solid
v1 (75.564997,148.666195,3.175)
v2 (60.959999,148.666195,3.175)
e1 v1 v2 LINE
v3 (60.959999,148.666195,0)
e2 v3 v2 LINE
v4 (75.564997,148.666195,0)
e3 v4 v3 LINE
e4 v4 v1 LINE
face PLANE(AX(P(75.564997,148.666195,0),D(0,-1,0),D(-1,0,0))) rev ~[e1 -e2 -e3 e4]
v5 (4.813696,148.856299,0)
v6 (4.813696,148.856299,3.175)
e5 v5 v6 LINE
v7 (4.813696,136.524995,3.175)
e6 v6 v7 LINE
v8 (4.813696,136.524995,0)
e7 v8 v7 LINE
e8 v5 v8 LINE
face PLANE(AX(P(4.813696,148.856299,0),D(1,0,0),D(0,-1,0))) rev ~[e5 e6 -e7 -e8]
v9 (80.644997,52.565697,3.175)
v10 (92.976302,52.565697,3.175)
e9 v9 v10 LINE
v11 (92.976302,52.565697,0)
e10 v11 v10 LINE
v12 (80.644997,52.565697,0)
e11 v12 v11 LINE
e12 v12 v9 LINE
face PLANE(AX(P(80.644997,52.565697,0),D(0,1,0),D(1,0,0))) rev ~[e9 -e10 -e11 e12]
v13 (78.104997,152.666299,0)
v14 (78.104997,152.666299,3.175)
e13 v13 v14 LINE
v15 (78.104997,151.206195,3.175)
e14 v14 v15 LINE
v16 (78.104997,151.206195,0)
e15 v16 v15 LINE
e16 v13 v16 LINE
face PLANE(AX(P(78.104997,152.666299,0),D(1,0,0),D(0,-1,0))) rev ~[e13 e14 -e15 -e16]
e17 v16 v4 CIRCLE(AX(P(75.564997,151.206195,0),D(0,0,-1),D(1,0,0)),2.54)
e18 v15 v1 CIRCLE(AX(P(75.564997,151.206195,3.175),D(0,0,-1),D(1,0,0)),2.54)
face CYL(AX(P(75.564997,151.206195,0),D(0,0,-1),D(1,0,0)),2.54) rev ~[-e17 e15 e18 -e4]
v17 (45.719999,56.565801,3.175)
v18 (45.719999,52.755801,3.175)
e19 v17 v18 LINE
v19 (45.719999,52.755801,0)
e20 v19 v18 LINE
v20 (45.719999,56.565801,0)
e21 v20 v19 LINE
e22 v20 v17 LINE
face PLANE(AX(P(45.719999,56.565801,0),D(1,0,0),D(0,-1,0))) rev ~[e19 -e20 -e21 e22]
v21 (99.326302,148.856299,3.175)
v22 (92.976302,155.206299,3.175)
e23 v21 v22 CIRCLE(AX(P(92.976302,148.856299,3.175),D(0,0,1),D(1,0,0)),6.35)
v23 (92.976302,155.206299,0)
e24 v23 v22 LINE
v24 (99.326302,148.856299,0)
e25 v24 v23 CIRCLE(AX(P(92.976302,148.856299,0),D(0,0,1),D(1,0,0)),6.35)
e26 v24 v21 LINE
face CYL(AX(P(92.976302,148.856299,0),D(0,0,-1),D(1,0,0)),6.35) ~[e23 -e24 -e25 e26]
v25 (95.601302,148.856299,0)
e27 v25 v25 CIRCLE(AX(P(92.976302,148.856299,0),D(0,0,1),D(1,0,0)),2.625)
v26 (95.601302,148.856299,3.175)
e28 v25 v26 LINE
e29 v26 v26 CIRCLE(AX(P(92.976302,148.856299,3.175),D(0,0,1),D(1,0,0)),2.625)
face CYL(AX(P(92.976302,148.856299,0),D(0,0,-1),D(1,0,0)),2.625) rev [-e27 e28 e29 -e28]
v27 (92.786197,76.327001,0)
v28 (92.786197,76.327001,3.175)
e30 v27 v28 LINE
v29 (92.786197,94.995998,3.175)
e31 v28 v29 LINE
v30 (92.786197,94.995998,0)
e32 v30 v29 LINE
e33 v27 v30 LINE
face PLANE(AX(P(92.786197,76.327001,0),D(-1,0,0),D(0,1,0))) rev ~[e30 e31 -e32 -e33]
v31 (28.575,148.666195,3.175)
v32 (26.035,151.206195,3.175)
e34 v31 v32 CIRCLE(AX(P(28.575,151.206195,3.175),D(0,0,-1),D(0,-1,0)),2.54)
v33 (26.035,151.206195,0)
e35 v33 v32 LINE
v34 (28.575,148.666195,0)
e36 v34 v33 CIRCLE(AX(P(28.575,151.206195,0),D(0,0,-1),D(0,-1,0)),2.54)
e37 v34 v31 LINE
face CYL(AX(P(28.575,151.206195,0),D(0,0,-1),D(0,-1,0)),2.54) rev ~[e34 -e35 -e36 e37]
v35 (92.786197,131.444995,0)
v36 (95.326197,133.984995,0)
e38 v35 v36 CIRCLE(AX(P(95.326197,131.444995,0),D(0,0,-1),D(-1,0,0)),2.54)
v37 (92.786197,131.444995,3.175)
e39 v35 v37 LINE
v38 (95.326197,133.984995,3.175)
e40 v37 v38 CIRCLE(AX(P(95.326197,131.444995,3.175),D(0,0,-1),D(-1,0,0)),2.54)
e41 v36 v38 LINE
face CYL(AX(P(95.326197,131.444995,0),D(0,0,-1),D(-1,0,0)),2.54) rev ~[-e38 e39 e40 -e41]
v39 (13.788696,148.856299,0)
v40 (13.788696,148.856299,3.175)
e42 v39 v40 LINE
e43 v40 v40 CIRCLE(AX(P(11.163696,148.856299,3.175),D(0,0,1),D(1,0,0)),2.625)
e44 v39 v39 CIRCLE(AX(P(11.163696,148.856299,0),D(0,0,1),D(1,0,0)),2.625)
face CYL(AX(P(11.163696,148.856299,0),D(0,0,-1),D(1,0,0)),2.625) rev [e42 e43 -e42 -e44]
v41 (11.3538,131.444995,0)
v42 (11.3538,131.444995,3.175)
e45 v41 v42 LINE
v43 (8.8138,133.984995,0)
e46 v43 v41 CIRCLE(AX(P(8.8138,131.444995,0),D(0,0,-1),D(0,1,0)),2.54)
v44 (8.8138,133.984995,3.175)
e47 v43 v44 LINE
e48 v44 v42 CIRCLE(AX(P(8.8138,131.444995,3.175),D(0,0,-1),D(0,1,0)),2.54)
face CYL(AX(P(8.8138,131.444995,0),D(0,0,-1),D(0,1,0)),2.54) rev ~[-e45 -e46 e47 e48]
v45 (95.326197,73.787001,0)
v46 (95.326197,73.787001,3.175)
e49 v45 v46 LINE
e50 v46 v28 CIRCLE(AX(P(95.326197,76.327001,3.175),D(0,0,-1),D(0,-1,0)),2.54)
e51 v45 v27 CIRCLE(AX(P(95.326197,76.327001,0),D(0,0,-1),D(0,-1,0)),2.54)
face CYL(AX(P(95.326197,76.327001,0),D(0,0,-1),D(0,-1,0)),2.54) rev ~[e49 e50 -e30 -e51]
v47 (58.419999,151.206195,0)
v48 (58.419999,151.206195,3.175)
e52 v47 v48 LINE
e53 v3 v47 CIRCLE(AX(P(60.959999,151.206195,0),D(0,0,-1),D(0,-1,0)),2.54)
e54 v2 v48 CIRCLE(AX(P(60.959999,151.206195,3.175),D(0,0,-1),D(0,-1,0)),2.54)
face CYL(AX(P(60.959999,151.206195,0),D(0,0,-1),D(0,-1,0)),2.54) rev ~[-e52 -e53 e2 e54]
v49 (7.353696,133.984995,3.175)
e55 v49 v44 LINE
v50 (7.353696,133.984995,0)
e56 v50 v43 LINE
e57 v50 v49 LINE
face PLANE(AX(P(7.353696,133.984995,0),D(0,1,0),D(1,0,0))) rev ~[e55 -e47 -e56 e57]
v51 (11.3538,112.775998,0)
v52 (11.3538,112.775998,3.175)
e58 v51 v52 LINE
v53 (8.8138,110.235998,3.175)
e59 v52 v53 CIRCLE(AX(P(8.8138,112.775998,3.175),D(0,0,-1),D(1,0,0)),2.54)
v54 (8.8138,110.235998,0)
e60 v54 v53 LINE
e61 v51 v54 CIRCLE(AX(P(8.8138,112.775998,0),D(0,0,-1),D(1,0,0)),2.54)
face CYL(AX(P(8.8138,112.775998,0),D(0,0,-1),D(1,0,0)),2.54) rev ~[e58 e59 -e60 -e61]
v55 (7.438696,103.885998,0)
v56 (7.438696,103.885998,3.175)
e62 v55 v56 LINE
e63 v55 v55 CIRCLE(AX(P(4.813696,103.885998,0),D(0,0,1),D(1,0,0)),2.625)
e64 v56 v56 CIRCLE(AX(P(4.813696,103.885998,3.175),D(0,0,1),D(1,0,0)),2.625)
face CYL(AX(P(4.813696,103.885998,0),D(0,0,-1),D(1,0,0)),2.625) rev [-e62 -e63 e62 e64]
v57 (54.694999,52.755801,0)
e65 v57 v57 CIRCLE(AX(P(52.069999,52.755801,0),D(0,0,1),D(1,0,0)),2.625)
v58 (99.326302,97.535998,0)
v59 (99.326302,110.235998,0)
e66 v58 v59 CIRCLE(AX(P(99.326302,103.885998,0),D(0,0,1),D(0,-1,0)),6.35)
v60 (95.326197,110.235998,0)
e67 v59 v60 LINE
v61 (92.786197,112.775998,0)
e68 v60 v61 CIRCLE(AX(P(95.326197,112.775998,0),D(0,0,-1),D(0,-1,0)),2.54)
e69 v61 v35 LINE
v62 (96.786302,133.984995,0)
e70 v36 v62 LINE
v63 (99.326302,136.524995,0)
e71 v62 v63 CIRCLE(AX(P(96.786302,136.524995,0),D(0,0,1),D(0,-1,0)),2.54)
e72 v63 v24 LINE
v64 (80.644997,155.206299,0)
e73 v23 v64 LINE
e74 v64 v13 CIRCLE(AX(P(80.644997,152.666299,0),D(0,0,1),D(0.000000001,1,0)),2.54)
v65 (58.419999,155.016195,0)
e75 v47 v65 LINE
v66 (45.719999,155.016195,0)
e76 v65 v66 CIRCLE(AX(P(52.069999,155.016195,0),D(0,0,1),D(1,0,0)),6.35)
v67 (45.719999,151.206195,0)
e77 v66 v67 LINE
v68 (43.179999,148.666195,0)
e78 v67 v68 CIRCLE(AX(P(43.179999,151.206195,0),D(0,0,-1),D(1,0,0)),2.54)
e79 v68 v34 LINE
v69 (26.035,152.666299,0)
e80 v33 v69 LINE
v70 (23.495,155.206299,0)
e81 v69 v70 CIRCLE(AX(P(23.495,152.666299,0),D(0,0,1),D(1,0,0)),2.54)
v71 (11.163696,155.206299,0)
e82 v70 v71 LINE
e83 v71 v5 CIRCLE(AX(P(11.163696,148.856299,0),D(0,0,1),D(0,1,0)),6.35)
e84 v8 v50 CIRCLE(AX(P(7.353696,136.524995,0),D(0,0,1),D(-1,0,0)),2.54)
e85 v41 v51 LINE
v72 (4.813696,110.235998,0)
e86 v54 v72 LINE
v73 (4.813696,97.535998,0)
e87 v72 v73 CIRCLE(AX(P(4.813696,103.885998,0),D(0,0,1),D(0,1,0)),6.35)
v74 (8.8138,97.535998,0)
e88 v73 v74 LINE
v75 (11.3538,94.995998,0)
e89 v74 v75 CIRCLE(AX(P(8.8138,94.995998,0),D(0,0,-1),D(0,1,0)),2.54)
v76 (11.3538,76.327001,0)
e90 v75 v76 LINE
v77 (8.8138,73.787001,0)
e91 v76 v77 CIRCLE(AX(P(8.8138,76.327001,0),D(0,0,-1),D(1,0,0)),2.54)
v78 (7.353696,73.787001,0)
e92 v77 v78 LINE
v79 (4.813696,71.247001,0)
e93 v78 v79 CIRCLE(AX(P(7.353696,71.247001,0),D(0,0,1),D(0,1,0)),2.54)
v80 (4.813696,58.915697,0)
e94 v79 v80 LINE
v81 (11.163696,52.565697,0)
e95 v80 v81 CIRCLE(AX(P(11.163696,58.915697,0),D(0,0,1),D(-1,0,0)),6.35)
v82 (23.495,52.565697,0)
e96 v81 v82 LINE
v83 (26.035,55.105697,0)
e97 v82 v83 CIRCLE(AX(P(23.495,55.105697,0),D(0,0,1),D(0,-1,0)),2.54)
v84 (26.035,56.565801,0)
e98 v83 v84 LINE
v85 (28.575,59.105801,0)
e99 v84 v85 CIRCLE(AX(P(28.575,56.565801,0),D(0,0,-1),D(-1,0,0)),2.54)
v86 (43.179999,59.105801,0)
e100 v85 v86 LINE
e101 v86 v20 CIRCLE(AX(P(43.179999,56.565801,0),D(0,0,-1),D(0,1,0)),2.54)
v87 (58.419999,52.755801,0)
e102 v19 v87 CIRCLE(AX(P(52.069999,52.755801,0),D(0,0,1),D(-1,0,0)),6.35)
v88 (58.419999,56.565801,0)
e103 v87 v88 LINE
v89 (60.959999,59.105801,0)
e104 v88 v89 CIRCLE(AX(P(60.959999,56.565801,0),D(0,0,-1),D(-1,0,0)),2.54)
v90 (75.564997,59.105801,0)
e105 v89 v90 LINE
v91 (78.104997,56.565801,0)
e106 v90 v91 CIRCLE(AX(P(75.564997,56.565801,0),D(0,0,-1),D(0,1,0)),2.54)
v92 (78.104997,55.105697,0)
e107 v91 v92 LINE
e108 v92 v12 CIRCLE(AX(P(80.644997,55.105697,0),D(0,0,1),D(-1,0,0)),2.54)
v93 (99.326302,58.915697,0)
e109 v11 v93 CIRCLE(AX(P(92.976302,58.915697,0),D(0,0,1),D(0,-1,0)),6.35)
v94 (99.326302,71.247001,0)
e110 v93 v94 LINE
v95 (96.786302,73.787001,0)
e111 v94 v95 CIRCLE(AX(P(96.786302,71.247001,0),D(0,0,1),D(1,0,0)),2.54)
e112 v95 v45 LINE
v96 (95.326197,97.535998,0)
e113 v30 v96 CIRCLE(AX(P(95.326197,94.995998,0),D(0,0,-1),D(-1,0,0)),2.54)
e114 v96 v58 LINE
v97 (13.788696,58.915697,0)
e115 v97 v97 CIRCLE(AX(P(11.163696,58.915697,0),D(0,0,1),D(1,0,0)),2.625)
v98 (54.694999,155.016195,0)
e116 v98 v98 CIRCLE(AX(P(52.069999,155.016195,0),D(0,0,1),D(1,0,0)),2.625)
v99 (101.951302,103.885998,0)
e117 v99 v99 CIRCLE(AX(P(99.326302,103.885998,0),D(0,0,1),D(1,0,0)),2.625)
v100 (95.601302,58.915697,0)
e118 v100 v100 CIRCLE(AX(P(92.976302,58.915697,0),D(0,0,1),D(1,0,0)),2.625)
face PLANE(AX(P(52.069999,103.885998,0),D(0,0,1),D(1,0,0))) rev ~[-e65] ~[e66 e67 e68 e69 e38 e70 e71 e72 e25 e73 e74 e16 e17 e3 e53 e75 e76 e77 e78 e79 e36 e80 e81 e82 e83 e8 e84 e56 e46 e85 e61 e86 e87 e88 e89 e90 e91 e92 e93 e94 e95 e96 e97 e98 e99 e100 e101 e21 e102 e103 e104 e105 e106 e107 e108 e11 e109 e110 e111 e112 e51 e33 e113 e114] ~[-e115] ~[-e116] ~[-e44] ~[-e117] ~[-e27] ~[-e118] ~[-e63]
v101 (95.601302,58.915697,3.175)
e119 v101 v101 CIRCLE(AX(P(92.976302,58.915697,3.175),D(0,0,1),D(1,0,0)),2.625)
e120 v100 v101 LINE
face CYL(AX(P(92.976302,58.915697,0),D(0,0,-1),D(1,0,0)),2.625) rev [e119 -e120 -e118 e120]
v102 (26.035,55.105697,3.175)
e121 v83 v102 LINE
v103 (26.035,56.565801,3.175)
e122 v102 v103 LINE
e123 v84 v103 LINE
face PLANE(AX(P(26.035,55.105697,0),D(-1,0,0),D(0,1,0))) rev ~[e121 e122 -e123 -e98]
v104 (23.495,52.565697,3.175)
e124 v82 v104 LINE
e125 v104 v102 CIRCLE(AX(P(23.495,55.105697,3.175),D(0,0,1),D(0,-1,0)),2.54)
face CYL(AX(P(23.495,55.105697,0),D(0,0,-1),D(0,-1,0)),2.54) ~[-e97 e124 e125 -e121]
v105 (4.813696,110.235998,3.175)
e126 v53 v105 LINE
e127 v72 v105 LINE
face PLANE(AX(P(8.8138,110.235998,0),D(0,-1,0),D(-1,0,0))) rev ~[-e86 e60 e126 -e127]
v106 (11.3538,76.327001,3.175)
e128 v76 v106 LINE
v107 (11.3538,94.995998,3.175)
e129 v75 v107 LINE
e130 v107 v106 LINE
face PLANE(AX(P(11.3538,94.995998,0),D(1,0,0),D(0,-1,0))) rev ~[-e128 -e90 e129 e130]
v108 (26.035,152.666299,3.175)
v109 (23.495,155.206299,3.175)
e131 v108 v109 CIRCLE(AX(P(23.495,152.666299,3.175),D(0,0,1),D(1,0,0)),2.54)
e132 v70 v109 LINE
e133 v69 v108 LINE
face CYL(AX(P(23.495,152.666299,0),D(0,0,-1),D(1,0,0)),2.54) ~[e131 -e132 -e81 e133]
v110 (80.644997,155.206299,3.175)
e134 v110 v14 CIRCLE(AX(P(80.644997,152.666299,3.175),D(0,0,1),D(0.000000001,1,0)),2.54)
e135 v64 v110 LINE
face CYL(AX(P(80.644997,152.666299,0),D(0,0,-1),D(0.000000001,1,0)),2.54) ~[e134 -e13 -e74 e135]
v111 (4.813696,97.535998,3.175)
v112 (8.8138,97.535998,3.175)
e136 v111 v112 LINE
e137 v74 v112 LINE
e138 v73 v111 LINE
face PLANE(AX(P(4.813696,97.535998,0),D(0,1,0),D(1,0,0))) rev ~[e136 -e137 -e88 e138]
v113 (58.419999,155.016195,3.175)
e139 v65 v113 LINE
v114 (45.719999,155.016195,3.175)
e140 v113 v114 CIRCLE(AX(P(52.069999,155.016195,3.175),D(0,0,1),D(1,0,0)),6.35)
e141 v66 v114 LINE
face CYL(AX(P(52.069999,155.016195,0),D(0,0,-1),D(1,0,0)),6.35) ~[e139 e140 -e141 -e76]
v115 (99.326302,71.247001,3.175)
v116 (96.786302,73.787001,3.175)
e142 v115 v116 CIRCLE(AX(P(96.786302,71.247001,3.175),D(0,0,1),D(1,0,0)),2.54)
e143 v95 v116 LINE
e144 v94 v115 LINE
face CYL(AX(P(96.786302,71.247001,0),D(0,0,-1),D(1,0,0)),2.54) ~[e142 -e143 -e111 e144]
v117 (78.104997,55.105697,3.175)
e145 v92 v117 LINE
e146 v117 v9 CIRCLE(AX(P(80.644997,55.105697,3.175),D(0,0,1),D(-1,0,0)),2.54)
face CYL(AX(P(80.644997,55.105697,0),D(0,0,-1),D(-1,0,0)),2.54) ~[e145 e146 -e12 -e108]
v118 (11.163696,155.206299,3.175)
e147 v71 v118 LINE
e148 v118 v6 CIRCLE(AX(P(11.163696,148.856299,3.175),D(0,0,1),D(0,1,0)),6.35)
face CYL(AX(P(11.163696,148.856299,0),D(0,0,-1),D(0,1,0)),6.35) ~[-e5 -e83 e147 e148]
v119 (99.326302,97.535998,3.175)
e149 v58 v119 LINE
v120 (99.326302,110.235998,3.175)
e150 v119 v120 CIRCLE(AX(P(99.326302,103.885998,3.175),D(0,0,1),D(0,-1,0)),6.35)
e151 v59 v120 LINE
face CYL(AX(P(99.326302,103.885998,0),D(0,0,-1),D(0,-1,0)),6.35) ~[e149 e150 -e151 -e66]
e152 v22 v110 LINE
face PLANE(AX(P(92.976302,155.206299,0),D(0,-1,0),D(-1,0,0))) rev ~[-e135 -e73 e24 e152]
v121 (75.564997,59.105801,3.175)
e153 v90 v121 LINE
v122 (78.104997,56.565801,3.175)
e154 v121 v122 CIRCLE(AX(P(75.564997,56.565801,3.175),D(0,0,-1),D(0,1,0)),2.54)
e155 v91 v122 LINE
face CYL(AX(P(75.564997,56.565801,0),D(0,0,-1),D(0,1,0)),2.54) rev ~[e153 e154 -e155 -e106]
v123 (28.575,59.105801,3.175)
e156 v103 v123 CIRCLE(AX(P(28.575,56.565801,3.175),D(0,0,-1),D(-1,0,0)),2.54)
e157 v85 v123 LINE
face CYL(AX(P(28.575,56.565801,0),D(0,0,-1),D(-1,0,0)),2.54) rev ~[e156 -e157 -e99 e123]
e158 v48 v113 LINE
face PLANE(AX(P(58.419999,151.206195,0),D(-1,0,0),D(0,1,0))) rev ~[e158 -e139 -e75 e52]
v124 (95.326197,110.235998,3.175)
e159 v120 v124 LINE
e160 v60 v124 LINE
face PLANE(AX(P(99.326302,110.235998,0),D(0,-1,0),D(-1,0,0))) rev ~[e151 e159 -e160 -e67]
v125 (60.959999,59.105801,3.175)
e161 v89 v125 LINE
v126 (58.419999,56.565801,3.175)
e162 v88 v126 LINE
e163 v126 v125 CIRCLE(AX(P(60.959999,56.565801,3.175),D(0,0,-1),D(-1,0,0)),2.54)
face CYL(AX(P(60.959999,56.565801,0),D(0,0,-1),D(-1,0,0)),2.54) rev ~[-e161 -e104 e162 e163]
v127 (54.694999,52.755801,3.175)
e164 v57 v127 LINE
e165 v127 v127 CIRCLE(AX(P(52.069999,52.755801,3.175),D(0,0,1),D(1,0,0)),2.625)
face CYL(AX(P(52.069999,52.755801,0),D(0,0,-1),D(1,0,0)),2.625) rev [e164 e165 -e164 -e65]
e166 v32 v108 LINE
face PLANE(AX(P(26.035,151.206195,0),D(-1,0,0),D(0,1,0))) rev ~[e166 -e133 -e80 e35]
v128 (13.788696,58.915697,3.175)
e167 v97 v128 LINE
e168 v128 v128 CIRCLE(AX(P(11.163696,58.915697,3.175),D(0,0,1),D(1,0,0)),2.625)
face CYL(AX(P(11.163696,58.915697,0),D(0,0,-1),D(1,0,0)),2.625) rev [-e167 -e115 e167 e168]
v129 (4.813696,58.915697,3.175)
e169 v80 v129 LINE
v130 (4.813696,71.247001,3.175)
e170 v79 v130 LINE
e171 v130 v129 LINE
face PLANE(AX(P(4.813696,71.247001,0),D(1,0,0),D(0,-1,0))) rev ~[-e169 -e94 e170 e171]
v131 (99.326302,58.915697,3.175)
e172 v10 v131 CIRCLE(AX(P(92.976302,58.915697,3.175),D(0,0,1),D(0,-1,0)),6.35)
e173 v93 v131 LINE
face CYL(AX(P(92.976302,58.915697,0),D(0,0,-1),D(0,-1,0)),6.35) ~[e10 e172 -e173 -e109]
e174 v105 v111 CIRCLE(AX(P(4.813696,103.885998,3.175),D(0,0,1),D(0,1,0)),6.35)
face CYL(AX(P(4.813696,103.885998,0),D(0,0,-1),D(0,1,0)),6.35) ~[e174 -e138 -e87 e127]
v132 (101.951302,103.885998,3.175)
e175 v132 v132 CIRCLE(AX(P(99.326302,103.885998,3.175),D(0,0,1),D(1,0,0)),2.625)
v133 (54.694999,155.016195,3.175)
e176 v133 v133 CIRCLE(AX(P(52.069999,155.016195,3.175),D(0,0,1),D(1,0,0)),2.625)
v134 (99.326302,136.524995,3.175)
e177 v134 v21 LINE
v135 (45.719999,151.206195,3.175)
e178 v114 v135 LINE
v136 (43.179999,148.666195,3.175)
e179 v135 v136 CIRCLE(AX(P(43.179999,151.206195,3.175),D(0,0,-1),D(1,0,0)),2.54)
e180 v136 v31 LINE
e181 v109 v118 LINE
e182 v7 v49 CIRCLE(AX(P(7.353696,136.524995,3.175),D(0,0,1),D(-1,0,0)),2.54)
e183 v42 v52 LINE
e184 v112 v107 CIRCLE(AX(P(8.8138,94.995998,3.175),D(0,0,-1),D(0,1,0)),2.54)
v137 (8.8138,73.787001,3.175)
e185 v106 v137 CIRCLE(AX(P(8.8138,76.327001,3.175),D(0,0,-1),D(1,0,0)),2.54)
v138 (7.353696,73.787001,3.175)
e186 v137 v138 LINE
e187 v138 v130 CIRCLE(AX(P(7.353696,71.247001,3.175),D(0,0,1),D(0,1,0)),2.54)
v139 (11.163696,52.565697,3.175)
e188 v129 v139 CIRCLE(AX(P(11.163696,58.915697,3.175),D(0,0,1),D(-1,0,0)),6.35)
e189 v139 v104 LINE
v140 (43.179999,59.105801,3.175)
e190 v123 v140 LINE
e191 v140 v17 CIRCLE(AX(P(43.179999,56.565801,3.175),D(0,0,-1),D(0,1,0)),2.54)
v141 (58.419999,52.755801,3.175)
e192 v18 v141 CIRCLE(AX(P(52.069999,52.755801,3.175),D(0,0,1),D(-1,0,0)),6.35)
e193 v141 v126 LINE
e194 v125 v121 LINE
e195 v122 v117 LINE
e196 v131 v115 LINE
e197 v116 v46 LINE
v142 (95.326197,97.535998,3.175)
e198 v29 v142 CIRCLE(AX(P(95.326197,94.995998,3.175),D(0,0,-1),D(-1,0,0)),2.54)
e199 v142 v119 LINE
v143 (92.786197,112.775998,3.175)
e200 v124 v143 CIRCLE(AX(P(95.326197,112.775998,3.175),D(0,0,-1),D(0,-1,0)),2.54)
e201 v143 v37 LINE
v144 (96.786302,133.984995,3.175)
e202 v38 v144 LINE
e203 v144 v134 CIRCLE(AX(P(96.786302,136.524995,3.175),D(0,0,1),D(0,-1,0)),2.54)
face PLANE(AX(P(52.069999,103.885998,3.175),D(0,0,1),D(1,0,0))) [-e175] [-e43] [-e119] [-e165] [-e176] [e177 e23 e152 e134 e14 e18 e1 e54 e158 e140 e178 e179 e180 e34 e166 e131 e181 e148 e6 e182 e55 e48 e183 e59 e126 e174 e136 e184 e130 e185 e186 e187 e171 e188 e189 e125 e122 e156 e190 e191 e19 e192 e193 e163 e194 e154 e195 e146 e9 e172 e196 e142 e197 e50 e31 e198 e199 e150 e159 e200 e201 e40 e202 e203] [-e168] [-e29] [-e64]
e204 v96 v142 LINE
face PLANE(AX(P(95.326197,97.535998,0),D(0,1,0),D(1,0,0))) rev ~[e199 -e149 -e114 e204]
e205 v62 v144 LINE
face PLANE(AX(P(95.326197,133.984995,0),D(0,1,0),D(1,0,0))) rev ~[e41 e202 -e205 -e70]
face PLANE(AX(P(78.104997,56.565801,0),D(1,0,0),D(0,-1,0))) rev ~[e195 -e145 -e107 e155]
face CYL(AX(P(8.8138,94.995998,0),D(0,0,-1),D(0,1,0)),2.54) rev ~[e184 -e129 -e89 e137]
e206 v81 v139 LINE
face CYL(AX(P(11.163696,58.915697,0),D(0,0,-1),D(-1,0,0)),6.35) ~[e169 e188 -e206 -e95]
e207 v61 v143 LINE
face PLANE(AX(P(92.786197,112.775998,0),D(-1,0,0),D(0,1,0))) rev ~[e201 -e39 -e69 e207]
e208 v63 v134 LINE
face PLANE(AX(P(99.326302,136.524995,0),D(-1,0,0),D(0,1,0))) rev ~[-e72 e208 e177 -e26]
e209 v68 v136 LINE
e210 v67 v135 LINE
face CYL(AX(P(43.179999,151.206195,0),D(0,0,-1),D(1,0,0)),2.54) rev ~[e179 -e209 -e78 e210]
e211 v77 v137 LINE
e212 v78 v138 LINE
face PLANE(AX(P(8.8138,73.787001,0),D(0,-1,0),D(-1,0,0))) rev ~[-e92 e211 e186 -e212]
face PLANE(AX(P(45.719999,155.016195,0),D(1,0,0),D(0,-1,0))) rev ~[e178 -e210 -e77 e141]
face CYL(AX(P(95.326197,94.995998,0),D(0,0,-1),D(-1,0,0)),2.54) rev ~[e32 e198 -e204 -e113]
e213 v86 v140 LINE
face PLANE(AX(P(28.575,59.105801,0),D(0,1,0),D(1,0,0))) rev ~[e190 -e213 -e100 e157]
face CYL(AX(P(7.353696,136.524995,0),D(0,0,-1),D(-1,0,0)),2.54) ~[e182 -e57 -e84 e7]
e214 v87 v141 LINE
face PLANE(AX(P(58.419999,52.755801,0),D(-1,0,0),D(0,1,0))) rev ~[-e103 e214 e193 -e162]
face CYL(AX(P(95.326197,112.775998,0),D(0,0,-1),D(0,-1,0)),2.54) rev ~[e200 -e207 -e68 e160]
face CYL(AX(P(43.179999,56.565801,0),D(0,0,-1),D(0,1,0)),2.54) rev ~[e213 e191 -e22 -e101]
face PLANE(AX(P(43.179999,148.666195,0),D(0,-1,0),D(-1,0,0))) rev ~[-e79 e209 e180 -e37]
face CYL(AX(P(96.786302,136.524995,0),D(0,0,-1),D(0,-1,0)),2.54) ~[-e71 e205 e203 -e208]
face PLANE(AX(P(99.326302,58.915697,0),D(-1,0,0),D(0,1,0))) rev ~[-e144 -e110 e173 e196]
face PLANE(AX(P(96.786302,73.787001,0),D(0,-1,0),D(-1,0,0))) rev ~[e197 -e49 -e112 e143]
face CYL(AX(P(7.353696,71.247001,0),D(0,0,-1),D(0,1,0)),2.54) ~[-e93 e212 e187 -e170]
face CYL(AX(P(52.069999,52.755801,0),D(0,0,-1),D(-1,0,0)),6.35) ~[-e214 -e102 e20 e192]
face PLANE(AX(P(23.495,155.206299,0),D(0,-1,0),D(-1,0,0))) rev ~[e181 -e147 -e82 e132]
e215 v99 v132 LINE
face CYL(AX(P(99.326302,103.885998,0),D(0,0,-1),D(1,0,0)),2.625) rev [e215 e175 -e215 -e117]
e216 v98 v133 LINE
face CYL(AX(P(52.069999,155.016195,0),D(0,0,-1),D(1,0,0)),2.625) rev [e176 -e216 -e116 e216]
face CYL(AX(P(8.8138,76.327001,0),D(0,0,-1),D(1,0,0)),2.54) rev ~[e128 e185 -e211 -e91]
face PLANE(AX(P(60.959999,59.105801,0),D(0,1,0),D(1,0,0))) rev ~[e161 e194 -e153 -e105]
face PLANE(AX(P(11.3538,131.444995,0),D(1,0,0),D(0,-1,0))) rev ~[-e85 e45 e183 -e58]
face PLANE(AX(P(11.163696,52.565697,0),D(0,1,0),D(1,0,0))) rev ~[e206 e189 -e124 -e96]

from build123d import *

# Parameters (mm, degrees)
SKETCH1_R           = 2.625
BOSS_EXTRUDE1_DEPTH = 3.175


with BuildPart() as part:
    # Sketch1 → Boss-Extrude1 (new body)
    with BuildSketch(Plane.XY):
        with BuildLine():
            Line((4.813695848, 148.856298887), (4.813695848, 136.524994751))
            ThreePointArc((4.813695848, 136.524994751), (5.557644624, 134.728943527), (7.353695848, 133.984994751))
            Line((7.353695848, 133.984994751), (8.813799985, 133.984994751))
            ThreePointArc((8.813799985, 133.984994751), (10.609851209, 133.241045975), (11.353799985, 131.444994751))
            Line((11.353799985, 131.444994751), (11.353799985, 112.775997772))
            ThreePointArc((11.353799985, 112.775997772), (10.609851209, 110.979946548), (8.813799985, 110.235997772))
            Line((8.813799985, 110.235997772), (4.813695848, 110.235997772))
            ThreePointArc((4.813695848, 110.235997772), (-1.536304152, 103.885997772), (4.813695848, 97.535997772))
            Line((4.813695848, 97.535997772), (8.813799985, 97.535997772))
            ThreePointArc((8.813799985, 97.535997772), (10.609851209, 96.792048996), (11.353799985, 94.995997772))
            Line((11.353799985, 94.995997772), (11.353799985, 76.327000793))
            ThreePointArc((11.353799985, 76.327000793), (10.609851209, 74.530949569), (8.813799985, 73.787000793))
            Line((8.813799985, 73.787000793), (7.353695848, 73.787000793))
            ThreePointArc((7.353695848, 73.787000793), (5.557644624, 73.043052018), (4.813695848, 71.247000793))
            Line((4.813695848, 71.247000793), (4.813695848, 58.915696657))
            ThreePointArc((4.813695848, 58.915696657), (6.673567788, 54.425568596), (11.163695848, 52.565696657))
            Line((11.163695848, 52.565696657), (23.494999985, 52.565696657))
            ThreePointArc((23.494999985, 52.565696657), (25.291051209, 53.309645433), (26.034999985, 55.105696657))
            Line((26.034999985, 55.105696657), (26.034999985, 56.565800793))
            ThreePointArc((26.034999985, 56.565800793), (26.778948761, 58.361852018), (28.574999985, 59.105800793))
            Line((28.574999985, 59.105800793), (43.179998741, 59.105800793))
            ThreePointArc((43.179998741, 59.105800793), (44.976049965, 58.361852018), (45.719998741, 56.565800793))
            Line((45.719998741, 56.565800793), (45.719998741, 52.755800793))
            ThreePointArc((45.719998741, 52.755800793), (52.069998741, 46.405800793), (58.419998741, 52.755800793))
            Line((58.419998741, 52.755800793), (58.419998741, 56.565800793))
            ThreePointArc((58.419998741, 56.565800793), (59.163947517, 58.361852018), (60.959998741, 59.105800793))
            Line((60.959998741, 59.105800793), (75.564997498, 59.105800793))
            ThreePointArc((75.564997498, 59.105800793), (77.361048722, 58.361852018), (78.104997498, 56.565800793))
            Line((78.104997498, 56.565800793), (78.104997498, 55.105696657))
            ThreePointArc((78.104997498, 55.105696657), (78.848946273, 53.309645433), (80.644997498, 52.565696657))
            Line((80.644997498, 52.565696657), (92.976301634, 52.565696657))
            ThreePointArc((92.976301634, 52.565696657), (97.466429695, 54.425568596), (99.326301634, 58.915696657))
            Line((99.326301634, 58.915696657), (99.326301634, 71.247000793))
            ThreePointArc((99.326301634, 71.247000793), (98.582352858, 73.043052018), (96.786301634, 73.787000793))
            Line((96.786301634, 73.787000793), (95.326197498, 73.787000793))
            ThreePointArc((95.326197498, 73.787000793), (93.530146273, 74.530949569), (92.786197498, 76.327000793))
            Line((92.786197498, 76.327000793), (92.786197498, 94.995997772))
            ThreePointArc((92.786197498, 94.995997772), (93.530146273, 96.792048996), (95.326197498, 97.535997772))
            Line((95.326197498, 97.535997772), (99.326301634, 97.535997772))
            ThreePointArc((99.326301634, 97.535997772), (105.676301634, 103.885997772), (99.326301634, 110.235997772))
            Line((99.326301634, 110.235997772), (95.326197498, 110.235997772))
            ThreePointArc((95.326197498, 110.235997772), (93.530146273, 110.979946548), (92.786197498, 112.775997772))
            Line((92.786197498, 112.775997772), (92.786197498, 131.444994751))
            ThreePointArc((92.786197498, 131.444994751), (93.530146273, 133.241045975), (95.326197498, 133.984994751))
            Line((95.326197498, 133.984994751), (96.786301634, 133.984994751))
            ThreePointArc((96.786301634, 133.984994751), (98.582352858, 134.728943527), (99.326301634, 136.524994751))
            Line((99.326301634, 136.524994751), (99.326301634, 148.856298887))
            ThreePointArc((99.326301634, 148.856298887), (97.466429695, 153.346426948), (92.976301634, 155.206298887))
            Line((92.976301634, 155.206298887), (80.644997498, 155.206298887))
            ThreePointArc((80.644997498, 155.206298887), (78.848946273, 154.462350112), (78.104997498, 152.666298887))
            Line((78.104997498, 152.666298887), (78.104997498, 151.206194751))
            ThreePointArc((78.104997498, 151.206194751), (77.361048722, 149.410143527), (75.564997498, 148.666194751))
            Line((75.564997498, 148.666194751), (60.959998741, 148.666194751))
            ThreePointArc((60.959998741, 148.666194751), (59.163947517, 149.410143527), (58.419998741, 151.206194751))
            Line((58.419998741, 151.206194751), (58.419998741, 155.016194751))
            ThreePointArc((58.419998741, 155.016194751), (52.069998741, 161.366194751), (45.719998741, 155.016194751))
            Line((45.719998741, 155.016194751), (45.719998741, 151.206194751))
            ThreePointArc((45.719998741, 151.206194751), (44.976049965, 149.410143527), (43.179998741, 148.666194751))
            Line((43.179998741, 148.666194751), (28.574999985, 148.666194751))
            ThreePointArc((28.574999985, 148.666194751), (26.778948761, 149.410143527), (26.034999985, 151.206194751))
            Line((26.034999985, 151.206194751), (26.034999985, 152.666298887))
            ThreePointArc((26.034999985, 152.666298887), (25.291051209, 154.462350112), (23.494999985, 155.206298887))
            Line((23.494999985, 155.206298887), (11.163695848, 155.206298887))
            ThreePointArc((11.163695848, 155.206298887), (6.673567788, 153.346426948), (4.813695848, 148.856298887))
        make_face()
        with Locations((11.163695848, 148.856298887)):
            Circle(SKETCH1_R, mode=Mode.SUBTRACT)
        with Locations((92.976301634, 148.856298887)):
            Circle(SKETCH1_R, mode=Mode.SUBTRACT)
        with Locations((52.069998741, 155.016194751)):
            Circle(SKETCH1_R, mode=Mode.SUBTRACT)
        with Locations((99.326301634, 103.885997772)):
            Circle(SKETCH1_R, mode=Mode.SUBTRACT)
        with Locations((92.976301634, 58.915696657)):
            Circle(SKETCH1_R, mode=Mode.SUBTRACT)
        with Locations((52.069998741, 52.755800793)):
            Circle(SKETCH1_R, mode=Mode.SUBTRACT)
        with Locations((11.163695848, 58.915696657)):
            Circle(SKETCH1_R, mode=Mode.SUBTRACT)
        with Locations((4.813695848, 103.885997772)):
            Circle(SKETCH1_R, mode=Mode.SUBTRACT)
    extrude(amount=BOSS_EXTRUDE1_DEPTH)


solid = part.part
